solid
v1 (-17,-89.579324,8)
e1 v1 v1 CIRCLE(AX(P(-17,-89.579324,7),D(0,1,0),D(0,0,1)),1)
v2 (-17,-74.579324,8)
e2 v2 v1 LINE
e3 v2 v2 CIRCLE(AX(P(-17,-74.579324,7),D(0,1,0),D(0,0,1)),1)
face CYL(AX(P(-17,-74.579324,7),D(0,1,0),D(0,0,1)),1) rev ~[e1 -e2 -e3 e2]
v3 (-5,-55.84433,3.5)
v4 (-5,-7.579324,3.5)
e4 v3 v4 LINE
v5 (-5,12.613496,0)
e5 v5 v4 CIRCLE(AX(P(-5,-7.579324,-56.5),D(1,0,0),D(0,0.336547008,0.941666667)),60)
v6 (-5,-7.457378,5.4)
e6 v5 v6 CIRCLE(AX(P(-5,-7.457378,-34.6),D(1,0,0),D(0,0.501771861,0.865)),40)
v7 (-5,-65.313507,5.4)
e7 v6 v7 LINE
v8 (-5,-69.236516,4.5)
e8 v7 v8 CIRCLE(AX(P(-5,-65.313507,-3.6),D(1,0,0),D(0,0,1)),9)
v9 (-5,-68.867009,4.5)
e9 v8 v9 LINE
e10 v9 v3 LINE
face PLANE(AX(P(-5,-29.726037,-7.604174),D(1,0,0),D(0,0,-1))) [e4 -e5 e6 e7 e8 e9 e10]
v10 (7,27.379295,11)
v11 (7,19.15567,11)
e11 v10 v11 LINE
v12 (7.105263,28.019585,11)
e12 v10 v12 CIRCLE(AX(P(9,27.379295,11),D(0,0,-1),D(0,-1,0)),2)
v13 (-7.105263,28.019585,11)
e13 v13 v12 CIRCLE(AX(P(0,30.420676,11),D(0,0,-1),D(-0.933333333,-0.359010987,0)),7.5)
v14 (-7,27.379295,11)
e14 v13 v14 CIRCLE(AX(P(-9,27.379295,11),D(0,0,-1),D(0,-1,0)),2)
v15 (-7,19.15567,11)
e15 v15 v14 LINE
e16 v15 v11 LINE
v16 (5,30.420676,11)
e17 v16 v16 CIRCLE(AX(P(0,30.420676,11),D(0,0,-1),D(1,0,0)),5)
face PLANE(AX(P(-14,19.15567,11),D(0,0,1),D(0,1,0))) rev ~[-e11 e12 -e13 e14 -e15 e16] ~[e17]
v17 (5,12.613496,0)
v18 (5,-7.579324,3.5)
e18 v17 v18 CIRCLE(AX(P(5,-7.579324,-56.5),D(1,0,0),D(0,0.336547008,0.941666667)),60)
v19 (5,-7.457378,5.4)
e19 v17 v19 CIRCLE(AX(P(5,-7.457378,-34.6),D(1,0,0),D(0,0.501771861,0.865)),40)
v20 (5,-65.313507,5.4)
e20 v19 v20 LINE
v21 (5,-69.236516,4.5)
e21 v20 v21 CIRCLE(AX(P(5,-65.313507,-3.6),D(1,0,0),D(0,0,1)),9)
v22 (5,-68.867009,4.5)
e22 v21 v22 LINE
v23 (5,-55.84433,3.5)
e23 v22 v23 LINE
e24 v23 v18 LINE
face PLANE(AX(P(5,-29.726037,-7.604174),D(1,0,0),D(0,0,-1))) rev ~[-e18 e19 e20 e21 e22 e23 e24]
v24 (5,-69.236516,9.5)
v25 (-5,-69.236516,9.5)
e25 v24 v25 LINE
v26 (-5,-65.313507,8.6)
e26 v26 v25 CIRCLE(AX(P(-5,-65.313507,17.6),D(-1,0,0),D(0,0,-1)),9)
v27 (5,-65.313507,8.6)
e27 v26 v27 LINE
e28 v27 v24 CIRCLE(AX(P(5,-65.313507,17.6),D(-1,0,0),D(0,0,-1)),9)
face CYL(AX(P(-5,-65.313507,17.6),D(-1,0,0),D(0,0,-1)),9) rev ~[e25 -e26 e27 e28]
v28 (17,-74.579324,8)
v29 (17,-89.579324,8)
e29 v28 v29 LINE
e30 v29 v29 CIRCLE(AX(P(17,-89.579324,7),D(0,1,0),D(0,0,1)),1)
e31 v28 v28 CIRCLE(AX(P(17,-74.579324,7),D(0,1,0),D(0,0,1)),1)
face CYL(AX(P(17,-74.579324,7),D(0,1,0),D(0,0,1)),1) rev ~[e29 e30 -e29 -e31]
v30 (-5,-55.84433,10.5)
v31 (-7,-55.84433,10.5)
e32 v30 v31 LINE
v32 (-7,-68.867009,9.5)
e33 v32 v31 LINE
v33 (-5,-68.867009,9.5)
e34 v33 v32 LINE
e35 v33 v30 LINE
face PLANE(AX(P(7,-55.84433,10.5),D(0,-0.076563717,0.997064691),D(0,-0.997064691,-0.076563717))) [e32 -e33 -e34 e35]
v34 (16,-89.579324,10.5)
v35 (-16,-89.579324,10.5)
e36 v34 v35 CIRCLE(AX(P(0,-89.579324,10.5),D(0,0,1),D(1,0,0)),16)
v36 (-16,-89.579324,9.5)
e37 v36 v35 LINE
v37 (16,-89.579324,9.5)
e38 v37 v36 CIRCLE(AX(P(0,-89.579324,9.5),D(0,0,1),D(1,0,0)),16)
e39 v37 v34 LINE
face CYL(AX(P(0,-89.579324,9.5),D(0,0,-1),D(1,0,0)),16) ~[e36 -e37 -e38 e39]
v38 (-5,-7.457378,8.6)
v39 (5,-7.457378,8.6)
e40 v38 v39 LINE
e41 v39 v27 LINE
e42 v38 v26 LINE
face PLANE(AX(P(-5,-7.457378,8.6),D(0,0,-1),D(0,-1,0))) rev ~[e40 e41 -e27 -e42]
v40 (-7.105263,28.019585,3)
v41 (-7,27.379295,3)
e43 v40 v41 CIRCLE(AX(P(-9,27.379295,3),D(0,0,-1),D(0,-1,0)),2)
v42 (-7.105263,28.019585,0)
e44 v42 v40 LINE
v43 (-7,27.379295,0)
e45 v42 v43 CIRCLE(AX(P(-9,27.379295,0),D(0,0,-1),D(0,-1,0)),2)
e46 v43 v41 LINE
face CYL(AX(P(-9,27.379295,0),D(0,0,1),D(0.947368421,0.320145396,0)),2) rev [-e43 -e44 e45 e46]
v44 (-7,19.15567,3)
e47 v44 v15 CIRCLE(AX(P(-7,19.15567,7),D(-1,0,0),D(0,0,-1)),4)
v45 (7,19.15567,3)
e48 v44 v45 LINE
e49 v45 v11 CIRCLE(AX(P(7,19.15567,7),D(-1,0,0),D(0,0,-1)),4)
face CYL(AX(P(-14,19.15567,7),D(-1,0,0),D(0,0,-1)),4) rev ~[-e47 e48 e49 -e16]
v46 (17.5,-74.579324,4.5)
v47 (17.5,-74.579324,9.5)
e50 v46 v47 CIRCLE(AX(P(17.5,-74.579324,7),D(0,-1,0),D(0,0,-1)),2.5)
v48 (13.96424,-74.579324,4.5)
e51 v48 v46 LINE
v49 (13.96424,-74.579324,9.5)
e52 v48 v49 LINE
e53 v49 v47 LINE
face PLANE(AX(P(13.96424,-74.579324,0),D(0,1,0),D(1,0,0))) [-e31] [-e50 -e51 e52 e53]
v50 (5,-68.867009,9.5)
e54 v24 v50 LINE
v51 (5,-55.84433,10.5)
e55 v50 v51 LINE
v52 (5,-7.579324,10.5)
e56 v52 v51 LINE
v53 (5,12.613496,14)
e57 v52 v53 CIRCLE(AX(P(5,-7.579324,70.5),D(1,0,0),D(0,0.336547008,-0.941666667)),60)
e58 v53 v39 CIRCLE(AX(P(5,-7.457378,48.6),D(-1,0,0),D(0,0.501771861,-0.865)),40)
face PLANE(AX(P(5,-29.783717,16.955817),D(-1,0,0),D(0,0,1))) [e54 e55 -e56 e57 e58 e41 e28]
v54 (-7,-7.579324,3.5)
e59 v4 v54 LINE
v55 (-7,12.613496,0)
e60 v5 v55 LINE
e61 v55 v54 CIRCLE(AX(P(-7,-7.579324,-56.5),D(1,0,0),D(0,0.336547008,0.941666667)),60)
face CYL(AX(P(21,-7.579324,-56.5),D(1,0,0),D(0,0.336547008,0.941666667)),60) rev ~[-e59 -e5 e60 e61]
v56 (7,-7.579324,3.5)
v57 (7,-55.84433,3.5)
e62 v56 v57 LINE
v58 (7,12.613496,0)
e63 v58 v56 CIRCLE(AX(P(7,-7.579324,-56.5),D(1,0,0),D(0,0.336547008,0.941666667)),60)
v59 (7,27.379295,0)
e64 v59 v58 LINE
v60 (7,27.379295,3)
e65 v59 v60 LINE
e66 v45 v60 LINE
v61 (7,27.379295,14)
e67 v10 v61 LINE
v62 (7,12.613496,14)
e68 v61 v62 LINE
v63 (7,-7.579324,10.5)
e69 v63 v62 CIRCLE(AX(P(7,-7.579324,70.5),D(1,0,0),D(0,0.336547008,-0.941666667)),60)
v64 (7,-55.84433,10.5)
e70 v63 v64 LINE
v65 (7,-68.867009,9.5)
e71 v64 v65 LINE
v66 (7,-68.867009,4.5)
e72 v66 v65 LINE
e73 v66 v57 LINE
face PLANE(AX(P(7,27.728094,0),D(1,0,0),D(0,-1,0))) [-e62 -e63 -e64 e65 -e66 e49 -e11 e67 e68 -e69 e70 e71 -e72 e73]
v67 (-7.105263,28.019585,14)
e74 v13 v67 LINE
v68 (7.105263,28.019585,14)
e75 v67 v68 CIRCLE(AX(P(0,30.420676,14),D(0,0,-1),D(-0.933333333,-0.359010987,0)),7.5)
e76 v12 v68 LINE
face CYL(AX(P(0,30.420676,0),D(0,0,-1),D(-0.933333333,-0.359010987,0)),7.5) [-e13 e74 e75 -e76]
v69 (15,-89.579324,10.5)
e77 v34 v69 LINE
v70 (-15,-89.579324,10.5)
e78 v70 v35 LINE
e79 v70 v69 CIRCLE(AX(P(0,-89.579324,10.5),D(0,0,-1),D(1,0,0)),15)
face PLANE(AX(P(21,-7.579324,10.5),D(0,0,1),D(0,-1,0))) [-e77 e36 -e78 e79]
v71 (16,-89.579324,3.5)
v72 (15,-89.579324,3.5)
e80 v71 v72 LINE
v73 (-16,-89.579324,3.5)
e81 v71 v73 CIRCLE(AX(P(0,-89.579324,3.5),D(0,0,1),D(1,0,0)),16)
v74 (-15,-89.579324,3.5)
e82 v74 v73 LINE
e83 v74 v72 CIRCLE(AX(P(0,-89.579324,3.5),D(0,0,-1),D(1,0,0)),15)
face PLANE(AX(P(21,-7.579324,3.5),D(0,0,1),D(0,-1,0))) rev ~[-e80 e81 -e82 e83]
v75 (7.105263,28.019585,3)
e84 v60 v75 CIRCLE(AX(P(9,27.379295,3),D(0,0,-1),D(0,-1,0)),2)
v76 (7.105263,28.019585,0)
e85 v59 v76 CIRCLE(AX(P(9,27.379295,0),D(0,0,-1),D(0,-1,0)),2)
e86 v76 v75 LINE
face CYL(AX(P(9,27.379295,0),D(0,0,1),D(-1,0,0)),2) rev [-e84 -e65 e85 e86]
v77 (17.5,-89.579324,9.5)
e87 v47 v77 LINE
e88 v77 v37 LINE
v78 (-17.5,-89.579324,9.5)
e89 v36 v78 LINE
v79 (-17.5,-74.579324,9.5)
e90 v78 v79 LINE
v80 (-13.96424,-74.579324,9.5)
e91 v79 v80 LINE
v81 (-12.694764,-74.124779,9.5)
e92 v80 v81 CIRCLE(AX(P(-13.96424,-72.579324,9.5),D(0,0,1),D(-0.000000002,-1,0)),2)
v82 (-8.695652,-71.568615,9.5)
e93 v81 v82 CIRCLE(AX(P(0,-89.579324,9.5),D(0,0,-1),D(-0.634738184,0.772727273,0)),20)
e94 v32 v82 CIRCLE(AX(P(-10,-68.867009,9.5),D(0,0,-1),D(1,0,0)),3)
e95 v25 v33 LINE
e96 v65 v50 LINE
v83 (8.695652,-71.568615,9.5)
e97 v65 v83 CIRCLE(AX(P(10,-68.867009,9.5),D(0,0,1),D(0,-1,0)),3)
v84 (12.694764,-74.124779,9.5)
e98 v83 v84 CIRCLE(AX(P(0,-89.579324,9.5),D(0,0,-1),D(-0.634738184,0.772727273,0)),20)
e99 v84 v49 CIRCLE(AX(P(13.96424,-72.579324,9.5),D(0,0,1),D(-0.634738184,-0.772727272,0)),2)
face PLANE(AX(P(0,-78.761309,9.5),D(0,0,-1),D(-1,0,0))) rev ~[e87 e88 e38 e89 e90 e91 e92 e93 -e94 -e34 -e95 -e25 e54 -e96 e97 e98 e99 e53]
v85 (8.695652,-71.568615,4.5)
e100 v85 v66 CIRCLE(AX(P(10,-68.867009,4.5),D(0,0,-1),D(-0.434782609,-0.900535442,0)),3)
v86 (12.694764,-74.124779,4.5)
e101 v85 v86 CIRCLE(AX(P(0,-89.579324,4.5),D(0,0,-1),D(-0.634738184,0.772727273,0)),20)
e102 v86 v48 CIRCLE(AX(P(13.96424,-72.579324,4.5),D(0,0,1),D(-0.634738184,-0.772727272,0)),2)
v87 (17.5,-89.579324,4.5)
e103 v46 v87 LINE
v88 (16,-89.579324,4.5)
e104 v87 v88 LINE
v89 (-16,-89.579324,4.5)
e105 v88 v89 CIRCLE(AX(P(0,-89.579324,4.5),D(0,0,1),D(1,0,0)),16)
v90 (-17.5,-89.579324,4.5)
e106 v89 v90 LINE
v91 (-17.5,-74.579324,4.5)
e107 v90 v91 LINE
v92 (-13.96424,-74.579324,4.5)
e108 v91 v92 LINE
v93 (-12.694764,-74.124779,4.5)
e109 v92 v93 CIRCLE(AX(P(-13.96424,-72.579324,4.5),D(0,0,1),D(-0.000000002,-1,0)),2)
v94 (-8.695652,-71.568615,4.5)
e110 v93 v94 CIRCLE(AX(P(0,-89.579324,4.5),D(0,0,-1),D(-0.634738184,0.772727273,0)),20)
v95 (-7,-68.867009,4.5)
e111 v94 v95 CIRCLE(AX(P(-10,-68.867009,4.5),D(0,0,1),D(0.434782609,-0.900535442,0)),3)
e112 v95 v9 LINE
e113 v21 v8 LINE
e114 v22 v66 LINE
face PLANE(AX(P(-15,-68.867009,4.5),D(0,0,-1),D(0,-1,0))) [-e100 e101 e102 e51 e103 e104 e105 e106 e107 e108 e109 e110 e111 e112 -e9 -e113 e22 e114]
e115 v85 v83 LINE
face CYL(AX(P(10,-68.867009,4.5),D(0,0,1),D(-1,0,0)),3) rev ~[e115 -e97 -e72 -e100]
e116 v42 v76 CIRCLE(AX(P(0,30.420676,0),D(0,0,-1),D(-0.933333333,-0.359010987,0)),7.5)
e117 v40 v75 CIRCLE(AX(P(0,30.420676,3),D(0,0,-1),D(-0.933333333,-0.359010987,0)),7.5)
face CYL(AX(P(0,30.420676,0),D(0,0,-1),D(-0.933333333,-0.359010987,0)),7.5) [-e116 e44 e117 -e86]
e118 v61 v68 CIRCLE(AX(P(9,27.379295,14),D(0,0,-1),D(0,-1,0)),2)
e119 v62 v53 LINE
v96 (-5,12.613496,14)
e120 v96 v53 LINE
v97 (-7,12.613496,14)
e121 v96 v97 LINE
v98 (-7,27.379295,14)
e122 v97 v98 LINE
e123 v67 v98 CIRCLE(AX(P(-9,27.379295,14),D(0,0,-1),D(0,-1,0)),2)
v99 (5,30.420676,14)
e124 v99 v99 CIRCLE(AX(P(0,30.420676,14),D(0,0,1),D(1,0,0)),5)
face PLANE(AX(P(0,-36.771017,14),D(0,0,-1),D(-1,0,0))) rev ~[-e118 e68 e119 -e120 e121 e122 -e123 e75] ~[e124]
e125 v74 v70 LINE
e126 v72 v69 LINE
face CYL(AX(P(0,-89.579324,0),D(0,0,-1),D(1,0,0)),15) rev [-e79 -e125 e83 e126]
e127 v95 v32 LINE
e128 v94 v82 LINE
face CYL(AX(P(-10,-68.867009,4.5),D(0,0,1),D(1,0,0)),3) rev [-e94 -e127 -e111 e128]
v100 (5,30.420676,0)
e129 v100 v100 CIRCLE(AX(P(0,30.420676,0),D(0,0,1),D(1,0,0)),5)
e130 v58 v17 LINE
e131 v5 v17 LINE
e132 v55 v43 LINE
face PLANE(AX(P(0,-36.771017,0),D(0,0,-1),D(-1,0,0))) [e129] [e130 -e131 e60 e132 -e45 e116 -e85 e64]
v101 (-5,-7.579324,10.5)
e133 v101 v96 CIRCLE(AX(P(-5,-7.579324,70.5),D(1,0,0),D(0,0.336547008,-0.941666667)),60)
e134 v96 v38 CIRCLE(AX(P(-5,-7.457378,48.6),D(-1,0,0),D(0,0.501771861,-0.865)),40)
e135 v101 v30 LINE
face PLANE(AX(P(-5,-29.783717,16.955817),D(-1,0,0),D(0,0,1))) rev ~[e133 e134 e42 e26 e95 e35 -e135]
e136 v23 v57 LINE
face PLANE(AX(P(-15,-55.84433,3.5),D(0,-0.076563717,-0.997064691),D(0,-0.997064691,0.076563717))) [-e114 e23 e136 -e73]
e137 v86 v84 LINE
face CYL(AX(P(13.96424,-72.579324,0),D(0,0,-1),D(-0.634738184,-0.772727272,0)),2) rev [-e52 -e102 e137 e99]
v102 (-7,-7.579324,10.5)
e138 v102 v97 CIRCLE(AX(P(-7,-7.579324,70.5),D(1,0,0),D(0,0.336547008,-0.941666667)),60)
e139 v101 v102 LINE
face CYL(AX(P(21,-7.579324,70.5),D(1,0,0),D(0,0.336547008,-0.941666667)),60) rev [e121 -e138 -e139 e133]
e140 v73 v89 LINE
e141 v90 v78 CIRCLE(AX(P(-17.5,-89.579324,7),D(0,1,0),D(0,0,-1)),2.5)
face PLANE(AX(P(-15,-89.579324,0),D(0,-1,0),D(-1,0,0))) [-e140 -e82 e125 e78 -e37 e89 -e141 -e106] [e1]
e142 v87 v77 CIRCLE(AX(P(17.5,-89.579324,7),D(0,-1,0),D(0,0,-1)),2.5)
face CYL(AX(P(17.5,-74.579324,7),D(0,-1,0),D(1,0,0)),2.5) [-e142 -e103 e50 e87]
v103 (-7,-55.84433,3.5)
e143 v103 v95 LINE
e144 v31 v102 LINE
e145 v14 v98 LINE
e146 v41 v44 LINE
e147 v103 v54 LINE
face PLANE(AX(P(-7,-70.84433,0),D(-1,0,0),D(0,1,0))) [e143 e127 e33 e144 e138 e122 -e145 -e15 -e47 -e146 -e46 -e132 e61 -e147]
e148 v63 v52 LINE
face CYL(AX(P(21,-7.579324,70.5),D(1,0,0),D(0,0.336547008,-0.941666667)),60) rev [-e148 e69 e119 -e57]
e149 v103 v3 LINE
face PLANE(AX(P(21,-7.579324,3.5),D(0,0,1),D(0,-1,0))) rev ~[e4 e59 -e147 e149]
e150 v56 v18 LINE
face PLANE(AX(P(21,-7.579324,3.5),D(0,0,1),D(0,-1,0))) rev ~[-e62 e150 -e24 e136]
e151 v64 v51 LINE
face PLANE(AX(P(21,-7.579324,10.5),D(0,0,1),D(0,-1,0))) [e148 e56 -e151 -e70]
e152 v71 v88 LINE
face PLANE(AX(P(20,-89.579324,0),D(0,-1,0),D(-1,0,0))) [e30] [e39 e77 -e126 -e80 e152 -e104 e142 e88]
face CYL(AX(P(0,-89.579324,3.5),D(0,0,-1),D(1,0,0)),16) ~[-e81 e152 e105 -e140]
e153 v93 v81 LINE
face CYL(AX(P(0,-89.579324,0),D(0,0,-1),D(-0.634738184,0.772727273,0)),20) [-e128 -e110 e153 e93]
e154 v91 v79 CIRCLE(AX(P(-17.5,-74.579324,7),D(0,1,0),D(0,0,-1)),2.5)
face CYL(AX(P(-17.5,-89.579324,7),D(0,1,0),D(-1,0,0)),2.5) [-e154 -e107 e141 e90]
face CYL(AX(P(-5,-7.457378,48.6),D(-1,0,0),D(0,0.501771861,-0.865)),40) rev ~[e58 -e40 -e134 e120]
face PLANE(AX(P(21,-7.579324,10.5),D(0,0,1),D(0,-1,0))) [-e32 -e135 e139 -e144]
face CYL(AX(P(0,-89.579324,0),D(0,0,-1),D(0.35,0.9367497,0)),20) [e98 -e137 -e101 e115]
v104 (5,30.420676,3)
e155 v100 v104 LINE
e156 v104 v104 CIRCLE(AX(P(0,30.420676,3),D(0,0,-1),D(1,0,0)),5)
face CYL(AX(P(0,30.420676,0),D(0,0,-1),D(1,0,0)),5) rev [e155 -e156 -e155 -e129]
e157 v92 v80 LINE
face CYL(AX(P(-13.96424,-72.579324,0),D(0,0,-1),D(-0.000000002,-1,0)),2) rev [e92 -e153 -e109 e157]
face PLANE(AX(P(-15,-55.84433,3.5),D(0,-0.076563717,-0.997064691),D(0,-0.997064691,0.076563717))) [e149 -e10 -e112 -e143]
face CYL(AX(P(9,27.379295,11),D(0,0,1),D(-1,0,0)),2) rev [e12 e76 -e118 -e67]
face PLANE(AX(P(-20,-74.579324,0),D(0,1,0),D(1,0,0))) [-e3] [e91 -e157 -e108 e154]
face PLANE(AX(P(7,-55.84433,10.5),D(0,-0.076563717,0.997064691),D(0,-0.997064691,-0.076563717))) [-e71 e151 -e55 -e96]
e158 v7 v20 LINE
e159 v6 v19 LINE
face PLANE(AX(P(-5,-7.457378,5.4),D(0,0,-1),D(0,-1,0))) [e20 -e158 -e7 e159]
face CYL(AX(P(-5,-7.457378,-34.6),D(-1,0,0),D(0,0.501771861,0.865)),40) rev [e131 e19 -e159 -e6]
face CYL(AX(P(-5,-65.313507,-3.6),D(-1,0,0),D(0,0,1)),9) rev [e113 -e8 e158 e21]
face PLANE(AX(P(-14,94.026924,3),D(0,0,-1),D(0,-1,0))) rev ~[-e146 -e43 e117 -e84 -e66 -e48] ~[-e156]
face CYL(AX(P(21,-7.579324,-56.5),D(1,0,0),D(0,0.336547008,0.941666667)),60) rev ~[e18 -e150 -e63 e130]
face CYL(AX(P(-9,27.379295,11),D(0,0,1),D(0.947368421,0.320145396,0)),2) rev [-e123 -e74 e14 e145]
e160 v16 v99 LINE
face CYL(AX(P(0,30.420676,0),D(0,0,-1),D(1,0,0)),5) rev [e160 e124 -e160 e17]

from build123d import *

# Parameters (mm, degrees)
SKETCH1_R               = 5
BOSS_EXTRUDE1_DEPTH     = 14
CUT_EXTRUDE1_DEPTH      = 14
CUT_EXTRUDE1_DEPTH_BACK = 21
CUT_EXTRUDE2_DEPTH      = 26
CUT_EXTRUDE2_DEPTH_BACK = 28
CUT_EXTRUDE3_DEPTH      = 5
CUT_EXTRUDE3_DEPTH_BACK = 5
CUT_EXTRUDE4_START      = -1
CUT_EXTRUDE4_DEPTH      = 1
CUT_EXTRUDE6_START      = -7
CUT_EXTRUDE6_DEPTH      = 1
SKETCH8_R               = 1
CUT_EXTRUDE8_DEPTH      = 15
FILLET2_RADIUS          = 2.5
FILLET2_LENGTH          = 15
FILLET3_RADIUS          = 2.5
FILLET3_LENGTH          = 15
FILLET4_R               = 3
FILLET5_R               = 2
CUT_EXTRUDE9_DEPTH      = 95.601560752
CUT_EXTRUDE9_DEPTH_BACK = 22
CUT_EXTRUDE10_DEPTH     = 19


with BuildPart() as part:
    # Sketch1 → Boss-Extrude1 (new body)
    with BuildSketch(Plane.XY):
        with BuildLine():
            Line((7, 27.728093549), (7, -70.844330052))
            ThreePointArc((7, -70.844330052), (9.983048869, -72.249040285), (12.694763676, -74.124778593))
            ThreePointArc((12.694763676, -74.124778593), (13.290040181, -74.462261791), (13.964240044, -74.579324047))
            Line((13.964240044, -74.579324047), (20, -74.579324047))
            Line((20, -74.579324047), (20, -89.579324047))
            Line((20, -89.579324047), (15, -89.579324047))
            ThreePointArc((15, -89.579324047), (0, -74.579324047), (-15, -89.579324047))
            Line((-15, -89.579324047), (-20, -89.579324047))
            Line((-20, -89.579324047), (-20, -74.579324047))
            Line((-20, -74.579324047), (-13.964240044, -74.579324047))
            ThreePointArc((-13.964240044, -74.579324047), (-13.290040181, -74.462261791), (-12.694763676, -74.124778593))
            ThreePointArc((-12.694763676, -74.124778593), (-9.983048869, -72.249040285), (-7, -70.844330052))
            Line((-7, -70.844330052), (-7, 27.728093549))
            ThreePointArc((-7, 27.728093549), (0, 37.920675953), (7, 27.728093549))
        make_face()
        with Locations((0, 30.420675953)):
            Circle(SKETCH1_R, mode=Mode.SUBTRACT)
    extrude(amount=BOSS_EXTRUDE1_DEPTH)

    # Sketch2 → Cut-Extrude1 (cut, two sides: drawn at the far end of the back side and taken through both)
    with BuildSketch(Plane(origin=(7, 0, 0), x_dir=(0, 0, -1), z_dir=(1, 0, 0)).offset(-CUT_EXTRUDE1_DEPTH_BACK)):
        with BuildLine():
            Line((-11, 19.155669948), (-11, 94.026923789))
            Line((-11, 94.026923789), (-3, 94.026923789))
            Line((-3, 94.026923789), (-3, 19.155669948))
            ThreePointArc((-3, 19.155669948), (-7, 15.155669948), (-11, 19.155669948))
        make_face()
    extrude(amount=CUT_EXTRUDE1_DEPTH + CUT_EXTRUDE1_DEPTH_BACK, mode=Mode.SUBTRACT)

    # Sketch3 → Cut-Extrude2 (cut, two sides: drawn at the far end of the back side and taken through both)
    with BuildSketch(Plane.ZY.offset(7).offset(-CUT_EXTRUDE2_DEPTH_BACK)):
        with BuildLine():
            Line((3.5, -7.579324047), (3.5, -89.579324047))
            Line((3.5, -89.579324047), (0, -89.579324047))
            Line((0, -89.579324047), (0, 12.613496459))
            ThreePointArc((0, 12.613496459), (2.618525015, 2.667626719), (3.5, -7.579324047))
        make_face()
        with BuildLine():
            Line((10.5, -7.579324047), (10.5, -89.579324047))
            Line((10.5, -89.579324047), (14, -89.579324047))
            Line((14, -89.579324047), (14, 12.613496459))
            ThreePointArc((14, 12.613496459), (11.381474985, 2.667626719), (10.5, -7.579324047))
        make_face()
    extrude(amount=CUT_EXTRUDE2_DEPTH + CUT_EXTRUDE2_DEPTH_BACK, mode=Mode.SUBTRACT)

    # Sketch4 → Cut-Extrude3 (cut, two sides: drawn at the far end of the back side and taken through both)
    with BuildSketch(Plane(origin=(0, 0, 0), x_dir=(0, 0, -1), z_dir=(1, 0, 0)).offset(-CUT_EXTRUDE3_DEPTH_BACK)):
        with BuildLine():
            Line((-5.4, -7.457377961), (-5.4, -65.313507329))
            ThreePointArc((-5.4, -65.313507329), (-4.911756575, -68.237545632), (-3.5, -70.844330052))
            Line((-3.5, -70.844330052), (19.637557059, -70.844330052))
            Line((19.637557059, -70.844330052), (19.637557059, 12.613496459))
            Line((19.637557059, 12.613496459), (0, 12.613496459))
            ThreePointArc((0, 12.613496459), (-4.026415832, 2.934926884), (-5.4, -7.457377961))
        make_face()
        with BuildLine():
            Line((-8.6, -7.457377961), (-8.6, -65.313507329))
            ThreePointArc((-8.6, -65.313507329), (-9.088243425, -68.237545632), (-10.5, -70.844330052))
            Line((-10.5, -70.844330052), (-24.530573049, -70.844330052))
            Line((-24.530573049, -70.844330052), (-24.530573049, 12.613496459))
            Line((-24.530573049, 12.613496459), (-14, 12.613496459))
            ThreePointArc((-14, 12.613496459), (-9.973584168, 2.934926884), (-8.6, -7.457377961))
        make_face()
    extrude(amount=CUT_EXTRUDE3_DEPTH + CUT_EXTRUDE3_DEPTH_BACK, mode=Mode.SUBTRACT)

    # Sketch5 → Cut-Extrude4 (cut)
    with BuildSketch(Plane.XY.offset(10.5).offset(CUT_EXTRUDE4_START)):
        with BuildLine():
            Line((-16, -89.579324047), (-20, -89.579324047))
            Line((-20, -89.579324047), (-20, -74.579324047))
            Line((-20, -74.579324047), (-13.964240044, -74.579324047))
            ThreePointArc((-13.964240044, -74.579324047), (-13.290040181, -74.462261791), (-12.694763676, -74.124778593))
            ThreePointArc((-12.694763676, -74.124778593), (0, -69.579324047), (12.694763676, -74.124778593))
            ThreePointArc((12.694763676, -74.124778593), (13.290040181, -74.462261791), (13.964240044, -74.579324047))
            Line((13.964240044, -74.579324047), (20, -74.579324047))
            Line((20, -74.579324047), (20, -89.579324047))
            Line((20, -89.579324047), (16, -89.579324047))
            ThreePointArc((16, -89.579324047), (0, -73.579324047), (-16, -89.579324047))
        make_face()
    extrude(amount=CUT_EXTRUDE4_DEPTH, mode=Mode.SUBTRACT)

    # Sketch5<3> → Cut-Extrude6 (cut)
    with BuildSketch(Plane.XY.offset(10.5).offset(CUT_EXTRUDE6_START)):
        with BuildLine():
            Line((-16, -89.579324047), (-20, -89.579324047))
            Line((-20, -89.579324047), (-20, -74.579324047))
            Line((-20, -74.579324047), (-13.964240044, -74.579324047))
            ThreePointArc((-13.964240044, -74.579324047), (-13.290040181, -74.462261791), (-12.694763676, -74.124778593))
            ThreePointArc((-12.694763676, -74.124778593), (0, -69.579324047), (12.694763676, -74.124778593))
            ThreePointArc((12.694763676, -74.124778593), (13.290040181, -74.462261791), (13.964240044, -74.579324047))
            Line((13.964240044, -74.579324047), (20, -74.579324047))
            Line((20, -74.579324047), (20, -89.579324047))
            Line((20, -89.579324047), (16, -89.579324047))
            ThreePointArc((16, -89.579324047), (0, -73.579324047), (-16, -89.579324047))
        make_face()
    extrude(amount=CUT_EXTRUDE6_DEPTH, mode=Mode.SUBTRACT)

    # Sketch8 → Cut-Extrude8 (cut)
    with BuildSketch(Plane(origin=(0, -74.579324047, 0), x_dir=(1, 0, 0), z_dir=(0, 1, 0))):
        with Locations(Location((17, -7, 0), (0, 0, 270))):
            Circle(SKETCH8_R)
        with Locations(Location((-17, -7, 0), (0, 0, 270))):
            Circle(SKETCH8_R)
    extrude(amount=-CUT_EXTRUDE8_DEPTH, mode=Mode.SUBTRACT)

    # Fillet2: full round fillet: the end face becomes a half cylinder, R = half its width
    fillet2_face = Plane((-20, -82.079324047, 7), x_dir=(0, 1, 0), z_dir=(-1, 0, 0))  # on the end face: x along it, z out of the body
    fillet2_slab = fillet2_face.offset(-FILLET2_RADIUS / 2) * Box(FILLET2_LENGTH, 2 * FILLET2_RADIUS, FILLET2_RADIUS, mode=Mode.PRIVATE)  # the body's end, R deep
    fillet2_round = Plane((-17.5, -82.079324047, 7), x_dir=(-1, 0, 0), z_dir=(0, 1, 0)) * Cylinder(FILLET2_RADIUS, FILLET2_LENGTH, mode=Mode.PRIVATE)  # its axis R under the face
    add(fillet2_slab - fillet2_round, mode=Mode.SUBTRACT)

    # Fillet3: full round fillet: the end face becomes a half cylinder, R = half its width
    fillet3_face = Plane((20, -82.079324047, 7), x_dir=(0, -1, 0), z_dir=(1, 0, 0))  # on the end face: x along it, z out of the body
    fillet3_slab = fillet3_face.offset(-FILLET3_RADIUS / 2) * Box(FILLET3_LENGTH, 2 * FILLET3_RADIUS, FILLET3_RADIUS, mode=Mode.PRIVATE)  # the body's end, R deep
    fillet3_round = Plane((17.5, -82.079324047, 7), x_dir=(1, 0, 0), z_dir=(0, -1, 0)) * Cylinder(FILLET3_RADIUS, FILLET3_LENGTH, mode=Mode.PRIVATE)  # its axis R under the face
    add(fillet3_slab - fillet3_round, mode=Mode.SUBTRACT)

    # Fillet4
    fillet4_edges = [part.edges().sort_by_distance(p)[0] for p in [
        (-7, -70.844330052, 7),
        (7, -70.844330052, 7),
    ]]
    fillet(fillet4_edges, radius=FILLET4_R)

    # Fillet5
    fillet5_edges = [part.edges().sort_by_distance(p)[0] for p in [
        (-7, 27.728093549, 12.5),
        (7, 27.728093549, 12.5),
        (-7, 27.728093549, 1.5),
        (7, 27.728093549, 1.5),
    ]]
    fillet(fillet5_edges, radius=FILLET5_R)

    # Sketch10 → Cut-Extrude9 (cut, two sides: drawn at the far end of the back side and taken through both)
    with BuildSketch(Plane(origin=(7, 0, 0), x_dir=(0, 0, -1), z_dir=(1, 0, 0)).offset(-CUT_EXTRUDE9_DEPTH_BACK)):
        Polygon((-3.5, -55.844330052), (-4.5, -68.86700887), (-4.5, -70.844330052), (-3.5, -70.844330052), align=None)
    extrude(amount=CUT_EXTRUDE9_DEPTH + CUT_EXTRUDE9_DEPTH_BACK, mode=Mode.SUBTRACT)

    # Sketch11 → Cut-Extrude10 (cut)
    with BuildSketch(Plane(origin=(7, 0, 0), x_dir=(0, 0, -1), z_dir=(1, 0, 0))):
        Polygon((-9.5, -70.844330052), (-10.5, -70.844330052), (-10.5, -55.844330052), (-9.5, -68.86700887), align=None)
    extrude(amount=-CUT_EXTRUDE10_DEPTH, mode=Mode.SUBTRACT)


solid = part.part
